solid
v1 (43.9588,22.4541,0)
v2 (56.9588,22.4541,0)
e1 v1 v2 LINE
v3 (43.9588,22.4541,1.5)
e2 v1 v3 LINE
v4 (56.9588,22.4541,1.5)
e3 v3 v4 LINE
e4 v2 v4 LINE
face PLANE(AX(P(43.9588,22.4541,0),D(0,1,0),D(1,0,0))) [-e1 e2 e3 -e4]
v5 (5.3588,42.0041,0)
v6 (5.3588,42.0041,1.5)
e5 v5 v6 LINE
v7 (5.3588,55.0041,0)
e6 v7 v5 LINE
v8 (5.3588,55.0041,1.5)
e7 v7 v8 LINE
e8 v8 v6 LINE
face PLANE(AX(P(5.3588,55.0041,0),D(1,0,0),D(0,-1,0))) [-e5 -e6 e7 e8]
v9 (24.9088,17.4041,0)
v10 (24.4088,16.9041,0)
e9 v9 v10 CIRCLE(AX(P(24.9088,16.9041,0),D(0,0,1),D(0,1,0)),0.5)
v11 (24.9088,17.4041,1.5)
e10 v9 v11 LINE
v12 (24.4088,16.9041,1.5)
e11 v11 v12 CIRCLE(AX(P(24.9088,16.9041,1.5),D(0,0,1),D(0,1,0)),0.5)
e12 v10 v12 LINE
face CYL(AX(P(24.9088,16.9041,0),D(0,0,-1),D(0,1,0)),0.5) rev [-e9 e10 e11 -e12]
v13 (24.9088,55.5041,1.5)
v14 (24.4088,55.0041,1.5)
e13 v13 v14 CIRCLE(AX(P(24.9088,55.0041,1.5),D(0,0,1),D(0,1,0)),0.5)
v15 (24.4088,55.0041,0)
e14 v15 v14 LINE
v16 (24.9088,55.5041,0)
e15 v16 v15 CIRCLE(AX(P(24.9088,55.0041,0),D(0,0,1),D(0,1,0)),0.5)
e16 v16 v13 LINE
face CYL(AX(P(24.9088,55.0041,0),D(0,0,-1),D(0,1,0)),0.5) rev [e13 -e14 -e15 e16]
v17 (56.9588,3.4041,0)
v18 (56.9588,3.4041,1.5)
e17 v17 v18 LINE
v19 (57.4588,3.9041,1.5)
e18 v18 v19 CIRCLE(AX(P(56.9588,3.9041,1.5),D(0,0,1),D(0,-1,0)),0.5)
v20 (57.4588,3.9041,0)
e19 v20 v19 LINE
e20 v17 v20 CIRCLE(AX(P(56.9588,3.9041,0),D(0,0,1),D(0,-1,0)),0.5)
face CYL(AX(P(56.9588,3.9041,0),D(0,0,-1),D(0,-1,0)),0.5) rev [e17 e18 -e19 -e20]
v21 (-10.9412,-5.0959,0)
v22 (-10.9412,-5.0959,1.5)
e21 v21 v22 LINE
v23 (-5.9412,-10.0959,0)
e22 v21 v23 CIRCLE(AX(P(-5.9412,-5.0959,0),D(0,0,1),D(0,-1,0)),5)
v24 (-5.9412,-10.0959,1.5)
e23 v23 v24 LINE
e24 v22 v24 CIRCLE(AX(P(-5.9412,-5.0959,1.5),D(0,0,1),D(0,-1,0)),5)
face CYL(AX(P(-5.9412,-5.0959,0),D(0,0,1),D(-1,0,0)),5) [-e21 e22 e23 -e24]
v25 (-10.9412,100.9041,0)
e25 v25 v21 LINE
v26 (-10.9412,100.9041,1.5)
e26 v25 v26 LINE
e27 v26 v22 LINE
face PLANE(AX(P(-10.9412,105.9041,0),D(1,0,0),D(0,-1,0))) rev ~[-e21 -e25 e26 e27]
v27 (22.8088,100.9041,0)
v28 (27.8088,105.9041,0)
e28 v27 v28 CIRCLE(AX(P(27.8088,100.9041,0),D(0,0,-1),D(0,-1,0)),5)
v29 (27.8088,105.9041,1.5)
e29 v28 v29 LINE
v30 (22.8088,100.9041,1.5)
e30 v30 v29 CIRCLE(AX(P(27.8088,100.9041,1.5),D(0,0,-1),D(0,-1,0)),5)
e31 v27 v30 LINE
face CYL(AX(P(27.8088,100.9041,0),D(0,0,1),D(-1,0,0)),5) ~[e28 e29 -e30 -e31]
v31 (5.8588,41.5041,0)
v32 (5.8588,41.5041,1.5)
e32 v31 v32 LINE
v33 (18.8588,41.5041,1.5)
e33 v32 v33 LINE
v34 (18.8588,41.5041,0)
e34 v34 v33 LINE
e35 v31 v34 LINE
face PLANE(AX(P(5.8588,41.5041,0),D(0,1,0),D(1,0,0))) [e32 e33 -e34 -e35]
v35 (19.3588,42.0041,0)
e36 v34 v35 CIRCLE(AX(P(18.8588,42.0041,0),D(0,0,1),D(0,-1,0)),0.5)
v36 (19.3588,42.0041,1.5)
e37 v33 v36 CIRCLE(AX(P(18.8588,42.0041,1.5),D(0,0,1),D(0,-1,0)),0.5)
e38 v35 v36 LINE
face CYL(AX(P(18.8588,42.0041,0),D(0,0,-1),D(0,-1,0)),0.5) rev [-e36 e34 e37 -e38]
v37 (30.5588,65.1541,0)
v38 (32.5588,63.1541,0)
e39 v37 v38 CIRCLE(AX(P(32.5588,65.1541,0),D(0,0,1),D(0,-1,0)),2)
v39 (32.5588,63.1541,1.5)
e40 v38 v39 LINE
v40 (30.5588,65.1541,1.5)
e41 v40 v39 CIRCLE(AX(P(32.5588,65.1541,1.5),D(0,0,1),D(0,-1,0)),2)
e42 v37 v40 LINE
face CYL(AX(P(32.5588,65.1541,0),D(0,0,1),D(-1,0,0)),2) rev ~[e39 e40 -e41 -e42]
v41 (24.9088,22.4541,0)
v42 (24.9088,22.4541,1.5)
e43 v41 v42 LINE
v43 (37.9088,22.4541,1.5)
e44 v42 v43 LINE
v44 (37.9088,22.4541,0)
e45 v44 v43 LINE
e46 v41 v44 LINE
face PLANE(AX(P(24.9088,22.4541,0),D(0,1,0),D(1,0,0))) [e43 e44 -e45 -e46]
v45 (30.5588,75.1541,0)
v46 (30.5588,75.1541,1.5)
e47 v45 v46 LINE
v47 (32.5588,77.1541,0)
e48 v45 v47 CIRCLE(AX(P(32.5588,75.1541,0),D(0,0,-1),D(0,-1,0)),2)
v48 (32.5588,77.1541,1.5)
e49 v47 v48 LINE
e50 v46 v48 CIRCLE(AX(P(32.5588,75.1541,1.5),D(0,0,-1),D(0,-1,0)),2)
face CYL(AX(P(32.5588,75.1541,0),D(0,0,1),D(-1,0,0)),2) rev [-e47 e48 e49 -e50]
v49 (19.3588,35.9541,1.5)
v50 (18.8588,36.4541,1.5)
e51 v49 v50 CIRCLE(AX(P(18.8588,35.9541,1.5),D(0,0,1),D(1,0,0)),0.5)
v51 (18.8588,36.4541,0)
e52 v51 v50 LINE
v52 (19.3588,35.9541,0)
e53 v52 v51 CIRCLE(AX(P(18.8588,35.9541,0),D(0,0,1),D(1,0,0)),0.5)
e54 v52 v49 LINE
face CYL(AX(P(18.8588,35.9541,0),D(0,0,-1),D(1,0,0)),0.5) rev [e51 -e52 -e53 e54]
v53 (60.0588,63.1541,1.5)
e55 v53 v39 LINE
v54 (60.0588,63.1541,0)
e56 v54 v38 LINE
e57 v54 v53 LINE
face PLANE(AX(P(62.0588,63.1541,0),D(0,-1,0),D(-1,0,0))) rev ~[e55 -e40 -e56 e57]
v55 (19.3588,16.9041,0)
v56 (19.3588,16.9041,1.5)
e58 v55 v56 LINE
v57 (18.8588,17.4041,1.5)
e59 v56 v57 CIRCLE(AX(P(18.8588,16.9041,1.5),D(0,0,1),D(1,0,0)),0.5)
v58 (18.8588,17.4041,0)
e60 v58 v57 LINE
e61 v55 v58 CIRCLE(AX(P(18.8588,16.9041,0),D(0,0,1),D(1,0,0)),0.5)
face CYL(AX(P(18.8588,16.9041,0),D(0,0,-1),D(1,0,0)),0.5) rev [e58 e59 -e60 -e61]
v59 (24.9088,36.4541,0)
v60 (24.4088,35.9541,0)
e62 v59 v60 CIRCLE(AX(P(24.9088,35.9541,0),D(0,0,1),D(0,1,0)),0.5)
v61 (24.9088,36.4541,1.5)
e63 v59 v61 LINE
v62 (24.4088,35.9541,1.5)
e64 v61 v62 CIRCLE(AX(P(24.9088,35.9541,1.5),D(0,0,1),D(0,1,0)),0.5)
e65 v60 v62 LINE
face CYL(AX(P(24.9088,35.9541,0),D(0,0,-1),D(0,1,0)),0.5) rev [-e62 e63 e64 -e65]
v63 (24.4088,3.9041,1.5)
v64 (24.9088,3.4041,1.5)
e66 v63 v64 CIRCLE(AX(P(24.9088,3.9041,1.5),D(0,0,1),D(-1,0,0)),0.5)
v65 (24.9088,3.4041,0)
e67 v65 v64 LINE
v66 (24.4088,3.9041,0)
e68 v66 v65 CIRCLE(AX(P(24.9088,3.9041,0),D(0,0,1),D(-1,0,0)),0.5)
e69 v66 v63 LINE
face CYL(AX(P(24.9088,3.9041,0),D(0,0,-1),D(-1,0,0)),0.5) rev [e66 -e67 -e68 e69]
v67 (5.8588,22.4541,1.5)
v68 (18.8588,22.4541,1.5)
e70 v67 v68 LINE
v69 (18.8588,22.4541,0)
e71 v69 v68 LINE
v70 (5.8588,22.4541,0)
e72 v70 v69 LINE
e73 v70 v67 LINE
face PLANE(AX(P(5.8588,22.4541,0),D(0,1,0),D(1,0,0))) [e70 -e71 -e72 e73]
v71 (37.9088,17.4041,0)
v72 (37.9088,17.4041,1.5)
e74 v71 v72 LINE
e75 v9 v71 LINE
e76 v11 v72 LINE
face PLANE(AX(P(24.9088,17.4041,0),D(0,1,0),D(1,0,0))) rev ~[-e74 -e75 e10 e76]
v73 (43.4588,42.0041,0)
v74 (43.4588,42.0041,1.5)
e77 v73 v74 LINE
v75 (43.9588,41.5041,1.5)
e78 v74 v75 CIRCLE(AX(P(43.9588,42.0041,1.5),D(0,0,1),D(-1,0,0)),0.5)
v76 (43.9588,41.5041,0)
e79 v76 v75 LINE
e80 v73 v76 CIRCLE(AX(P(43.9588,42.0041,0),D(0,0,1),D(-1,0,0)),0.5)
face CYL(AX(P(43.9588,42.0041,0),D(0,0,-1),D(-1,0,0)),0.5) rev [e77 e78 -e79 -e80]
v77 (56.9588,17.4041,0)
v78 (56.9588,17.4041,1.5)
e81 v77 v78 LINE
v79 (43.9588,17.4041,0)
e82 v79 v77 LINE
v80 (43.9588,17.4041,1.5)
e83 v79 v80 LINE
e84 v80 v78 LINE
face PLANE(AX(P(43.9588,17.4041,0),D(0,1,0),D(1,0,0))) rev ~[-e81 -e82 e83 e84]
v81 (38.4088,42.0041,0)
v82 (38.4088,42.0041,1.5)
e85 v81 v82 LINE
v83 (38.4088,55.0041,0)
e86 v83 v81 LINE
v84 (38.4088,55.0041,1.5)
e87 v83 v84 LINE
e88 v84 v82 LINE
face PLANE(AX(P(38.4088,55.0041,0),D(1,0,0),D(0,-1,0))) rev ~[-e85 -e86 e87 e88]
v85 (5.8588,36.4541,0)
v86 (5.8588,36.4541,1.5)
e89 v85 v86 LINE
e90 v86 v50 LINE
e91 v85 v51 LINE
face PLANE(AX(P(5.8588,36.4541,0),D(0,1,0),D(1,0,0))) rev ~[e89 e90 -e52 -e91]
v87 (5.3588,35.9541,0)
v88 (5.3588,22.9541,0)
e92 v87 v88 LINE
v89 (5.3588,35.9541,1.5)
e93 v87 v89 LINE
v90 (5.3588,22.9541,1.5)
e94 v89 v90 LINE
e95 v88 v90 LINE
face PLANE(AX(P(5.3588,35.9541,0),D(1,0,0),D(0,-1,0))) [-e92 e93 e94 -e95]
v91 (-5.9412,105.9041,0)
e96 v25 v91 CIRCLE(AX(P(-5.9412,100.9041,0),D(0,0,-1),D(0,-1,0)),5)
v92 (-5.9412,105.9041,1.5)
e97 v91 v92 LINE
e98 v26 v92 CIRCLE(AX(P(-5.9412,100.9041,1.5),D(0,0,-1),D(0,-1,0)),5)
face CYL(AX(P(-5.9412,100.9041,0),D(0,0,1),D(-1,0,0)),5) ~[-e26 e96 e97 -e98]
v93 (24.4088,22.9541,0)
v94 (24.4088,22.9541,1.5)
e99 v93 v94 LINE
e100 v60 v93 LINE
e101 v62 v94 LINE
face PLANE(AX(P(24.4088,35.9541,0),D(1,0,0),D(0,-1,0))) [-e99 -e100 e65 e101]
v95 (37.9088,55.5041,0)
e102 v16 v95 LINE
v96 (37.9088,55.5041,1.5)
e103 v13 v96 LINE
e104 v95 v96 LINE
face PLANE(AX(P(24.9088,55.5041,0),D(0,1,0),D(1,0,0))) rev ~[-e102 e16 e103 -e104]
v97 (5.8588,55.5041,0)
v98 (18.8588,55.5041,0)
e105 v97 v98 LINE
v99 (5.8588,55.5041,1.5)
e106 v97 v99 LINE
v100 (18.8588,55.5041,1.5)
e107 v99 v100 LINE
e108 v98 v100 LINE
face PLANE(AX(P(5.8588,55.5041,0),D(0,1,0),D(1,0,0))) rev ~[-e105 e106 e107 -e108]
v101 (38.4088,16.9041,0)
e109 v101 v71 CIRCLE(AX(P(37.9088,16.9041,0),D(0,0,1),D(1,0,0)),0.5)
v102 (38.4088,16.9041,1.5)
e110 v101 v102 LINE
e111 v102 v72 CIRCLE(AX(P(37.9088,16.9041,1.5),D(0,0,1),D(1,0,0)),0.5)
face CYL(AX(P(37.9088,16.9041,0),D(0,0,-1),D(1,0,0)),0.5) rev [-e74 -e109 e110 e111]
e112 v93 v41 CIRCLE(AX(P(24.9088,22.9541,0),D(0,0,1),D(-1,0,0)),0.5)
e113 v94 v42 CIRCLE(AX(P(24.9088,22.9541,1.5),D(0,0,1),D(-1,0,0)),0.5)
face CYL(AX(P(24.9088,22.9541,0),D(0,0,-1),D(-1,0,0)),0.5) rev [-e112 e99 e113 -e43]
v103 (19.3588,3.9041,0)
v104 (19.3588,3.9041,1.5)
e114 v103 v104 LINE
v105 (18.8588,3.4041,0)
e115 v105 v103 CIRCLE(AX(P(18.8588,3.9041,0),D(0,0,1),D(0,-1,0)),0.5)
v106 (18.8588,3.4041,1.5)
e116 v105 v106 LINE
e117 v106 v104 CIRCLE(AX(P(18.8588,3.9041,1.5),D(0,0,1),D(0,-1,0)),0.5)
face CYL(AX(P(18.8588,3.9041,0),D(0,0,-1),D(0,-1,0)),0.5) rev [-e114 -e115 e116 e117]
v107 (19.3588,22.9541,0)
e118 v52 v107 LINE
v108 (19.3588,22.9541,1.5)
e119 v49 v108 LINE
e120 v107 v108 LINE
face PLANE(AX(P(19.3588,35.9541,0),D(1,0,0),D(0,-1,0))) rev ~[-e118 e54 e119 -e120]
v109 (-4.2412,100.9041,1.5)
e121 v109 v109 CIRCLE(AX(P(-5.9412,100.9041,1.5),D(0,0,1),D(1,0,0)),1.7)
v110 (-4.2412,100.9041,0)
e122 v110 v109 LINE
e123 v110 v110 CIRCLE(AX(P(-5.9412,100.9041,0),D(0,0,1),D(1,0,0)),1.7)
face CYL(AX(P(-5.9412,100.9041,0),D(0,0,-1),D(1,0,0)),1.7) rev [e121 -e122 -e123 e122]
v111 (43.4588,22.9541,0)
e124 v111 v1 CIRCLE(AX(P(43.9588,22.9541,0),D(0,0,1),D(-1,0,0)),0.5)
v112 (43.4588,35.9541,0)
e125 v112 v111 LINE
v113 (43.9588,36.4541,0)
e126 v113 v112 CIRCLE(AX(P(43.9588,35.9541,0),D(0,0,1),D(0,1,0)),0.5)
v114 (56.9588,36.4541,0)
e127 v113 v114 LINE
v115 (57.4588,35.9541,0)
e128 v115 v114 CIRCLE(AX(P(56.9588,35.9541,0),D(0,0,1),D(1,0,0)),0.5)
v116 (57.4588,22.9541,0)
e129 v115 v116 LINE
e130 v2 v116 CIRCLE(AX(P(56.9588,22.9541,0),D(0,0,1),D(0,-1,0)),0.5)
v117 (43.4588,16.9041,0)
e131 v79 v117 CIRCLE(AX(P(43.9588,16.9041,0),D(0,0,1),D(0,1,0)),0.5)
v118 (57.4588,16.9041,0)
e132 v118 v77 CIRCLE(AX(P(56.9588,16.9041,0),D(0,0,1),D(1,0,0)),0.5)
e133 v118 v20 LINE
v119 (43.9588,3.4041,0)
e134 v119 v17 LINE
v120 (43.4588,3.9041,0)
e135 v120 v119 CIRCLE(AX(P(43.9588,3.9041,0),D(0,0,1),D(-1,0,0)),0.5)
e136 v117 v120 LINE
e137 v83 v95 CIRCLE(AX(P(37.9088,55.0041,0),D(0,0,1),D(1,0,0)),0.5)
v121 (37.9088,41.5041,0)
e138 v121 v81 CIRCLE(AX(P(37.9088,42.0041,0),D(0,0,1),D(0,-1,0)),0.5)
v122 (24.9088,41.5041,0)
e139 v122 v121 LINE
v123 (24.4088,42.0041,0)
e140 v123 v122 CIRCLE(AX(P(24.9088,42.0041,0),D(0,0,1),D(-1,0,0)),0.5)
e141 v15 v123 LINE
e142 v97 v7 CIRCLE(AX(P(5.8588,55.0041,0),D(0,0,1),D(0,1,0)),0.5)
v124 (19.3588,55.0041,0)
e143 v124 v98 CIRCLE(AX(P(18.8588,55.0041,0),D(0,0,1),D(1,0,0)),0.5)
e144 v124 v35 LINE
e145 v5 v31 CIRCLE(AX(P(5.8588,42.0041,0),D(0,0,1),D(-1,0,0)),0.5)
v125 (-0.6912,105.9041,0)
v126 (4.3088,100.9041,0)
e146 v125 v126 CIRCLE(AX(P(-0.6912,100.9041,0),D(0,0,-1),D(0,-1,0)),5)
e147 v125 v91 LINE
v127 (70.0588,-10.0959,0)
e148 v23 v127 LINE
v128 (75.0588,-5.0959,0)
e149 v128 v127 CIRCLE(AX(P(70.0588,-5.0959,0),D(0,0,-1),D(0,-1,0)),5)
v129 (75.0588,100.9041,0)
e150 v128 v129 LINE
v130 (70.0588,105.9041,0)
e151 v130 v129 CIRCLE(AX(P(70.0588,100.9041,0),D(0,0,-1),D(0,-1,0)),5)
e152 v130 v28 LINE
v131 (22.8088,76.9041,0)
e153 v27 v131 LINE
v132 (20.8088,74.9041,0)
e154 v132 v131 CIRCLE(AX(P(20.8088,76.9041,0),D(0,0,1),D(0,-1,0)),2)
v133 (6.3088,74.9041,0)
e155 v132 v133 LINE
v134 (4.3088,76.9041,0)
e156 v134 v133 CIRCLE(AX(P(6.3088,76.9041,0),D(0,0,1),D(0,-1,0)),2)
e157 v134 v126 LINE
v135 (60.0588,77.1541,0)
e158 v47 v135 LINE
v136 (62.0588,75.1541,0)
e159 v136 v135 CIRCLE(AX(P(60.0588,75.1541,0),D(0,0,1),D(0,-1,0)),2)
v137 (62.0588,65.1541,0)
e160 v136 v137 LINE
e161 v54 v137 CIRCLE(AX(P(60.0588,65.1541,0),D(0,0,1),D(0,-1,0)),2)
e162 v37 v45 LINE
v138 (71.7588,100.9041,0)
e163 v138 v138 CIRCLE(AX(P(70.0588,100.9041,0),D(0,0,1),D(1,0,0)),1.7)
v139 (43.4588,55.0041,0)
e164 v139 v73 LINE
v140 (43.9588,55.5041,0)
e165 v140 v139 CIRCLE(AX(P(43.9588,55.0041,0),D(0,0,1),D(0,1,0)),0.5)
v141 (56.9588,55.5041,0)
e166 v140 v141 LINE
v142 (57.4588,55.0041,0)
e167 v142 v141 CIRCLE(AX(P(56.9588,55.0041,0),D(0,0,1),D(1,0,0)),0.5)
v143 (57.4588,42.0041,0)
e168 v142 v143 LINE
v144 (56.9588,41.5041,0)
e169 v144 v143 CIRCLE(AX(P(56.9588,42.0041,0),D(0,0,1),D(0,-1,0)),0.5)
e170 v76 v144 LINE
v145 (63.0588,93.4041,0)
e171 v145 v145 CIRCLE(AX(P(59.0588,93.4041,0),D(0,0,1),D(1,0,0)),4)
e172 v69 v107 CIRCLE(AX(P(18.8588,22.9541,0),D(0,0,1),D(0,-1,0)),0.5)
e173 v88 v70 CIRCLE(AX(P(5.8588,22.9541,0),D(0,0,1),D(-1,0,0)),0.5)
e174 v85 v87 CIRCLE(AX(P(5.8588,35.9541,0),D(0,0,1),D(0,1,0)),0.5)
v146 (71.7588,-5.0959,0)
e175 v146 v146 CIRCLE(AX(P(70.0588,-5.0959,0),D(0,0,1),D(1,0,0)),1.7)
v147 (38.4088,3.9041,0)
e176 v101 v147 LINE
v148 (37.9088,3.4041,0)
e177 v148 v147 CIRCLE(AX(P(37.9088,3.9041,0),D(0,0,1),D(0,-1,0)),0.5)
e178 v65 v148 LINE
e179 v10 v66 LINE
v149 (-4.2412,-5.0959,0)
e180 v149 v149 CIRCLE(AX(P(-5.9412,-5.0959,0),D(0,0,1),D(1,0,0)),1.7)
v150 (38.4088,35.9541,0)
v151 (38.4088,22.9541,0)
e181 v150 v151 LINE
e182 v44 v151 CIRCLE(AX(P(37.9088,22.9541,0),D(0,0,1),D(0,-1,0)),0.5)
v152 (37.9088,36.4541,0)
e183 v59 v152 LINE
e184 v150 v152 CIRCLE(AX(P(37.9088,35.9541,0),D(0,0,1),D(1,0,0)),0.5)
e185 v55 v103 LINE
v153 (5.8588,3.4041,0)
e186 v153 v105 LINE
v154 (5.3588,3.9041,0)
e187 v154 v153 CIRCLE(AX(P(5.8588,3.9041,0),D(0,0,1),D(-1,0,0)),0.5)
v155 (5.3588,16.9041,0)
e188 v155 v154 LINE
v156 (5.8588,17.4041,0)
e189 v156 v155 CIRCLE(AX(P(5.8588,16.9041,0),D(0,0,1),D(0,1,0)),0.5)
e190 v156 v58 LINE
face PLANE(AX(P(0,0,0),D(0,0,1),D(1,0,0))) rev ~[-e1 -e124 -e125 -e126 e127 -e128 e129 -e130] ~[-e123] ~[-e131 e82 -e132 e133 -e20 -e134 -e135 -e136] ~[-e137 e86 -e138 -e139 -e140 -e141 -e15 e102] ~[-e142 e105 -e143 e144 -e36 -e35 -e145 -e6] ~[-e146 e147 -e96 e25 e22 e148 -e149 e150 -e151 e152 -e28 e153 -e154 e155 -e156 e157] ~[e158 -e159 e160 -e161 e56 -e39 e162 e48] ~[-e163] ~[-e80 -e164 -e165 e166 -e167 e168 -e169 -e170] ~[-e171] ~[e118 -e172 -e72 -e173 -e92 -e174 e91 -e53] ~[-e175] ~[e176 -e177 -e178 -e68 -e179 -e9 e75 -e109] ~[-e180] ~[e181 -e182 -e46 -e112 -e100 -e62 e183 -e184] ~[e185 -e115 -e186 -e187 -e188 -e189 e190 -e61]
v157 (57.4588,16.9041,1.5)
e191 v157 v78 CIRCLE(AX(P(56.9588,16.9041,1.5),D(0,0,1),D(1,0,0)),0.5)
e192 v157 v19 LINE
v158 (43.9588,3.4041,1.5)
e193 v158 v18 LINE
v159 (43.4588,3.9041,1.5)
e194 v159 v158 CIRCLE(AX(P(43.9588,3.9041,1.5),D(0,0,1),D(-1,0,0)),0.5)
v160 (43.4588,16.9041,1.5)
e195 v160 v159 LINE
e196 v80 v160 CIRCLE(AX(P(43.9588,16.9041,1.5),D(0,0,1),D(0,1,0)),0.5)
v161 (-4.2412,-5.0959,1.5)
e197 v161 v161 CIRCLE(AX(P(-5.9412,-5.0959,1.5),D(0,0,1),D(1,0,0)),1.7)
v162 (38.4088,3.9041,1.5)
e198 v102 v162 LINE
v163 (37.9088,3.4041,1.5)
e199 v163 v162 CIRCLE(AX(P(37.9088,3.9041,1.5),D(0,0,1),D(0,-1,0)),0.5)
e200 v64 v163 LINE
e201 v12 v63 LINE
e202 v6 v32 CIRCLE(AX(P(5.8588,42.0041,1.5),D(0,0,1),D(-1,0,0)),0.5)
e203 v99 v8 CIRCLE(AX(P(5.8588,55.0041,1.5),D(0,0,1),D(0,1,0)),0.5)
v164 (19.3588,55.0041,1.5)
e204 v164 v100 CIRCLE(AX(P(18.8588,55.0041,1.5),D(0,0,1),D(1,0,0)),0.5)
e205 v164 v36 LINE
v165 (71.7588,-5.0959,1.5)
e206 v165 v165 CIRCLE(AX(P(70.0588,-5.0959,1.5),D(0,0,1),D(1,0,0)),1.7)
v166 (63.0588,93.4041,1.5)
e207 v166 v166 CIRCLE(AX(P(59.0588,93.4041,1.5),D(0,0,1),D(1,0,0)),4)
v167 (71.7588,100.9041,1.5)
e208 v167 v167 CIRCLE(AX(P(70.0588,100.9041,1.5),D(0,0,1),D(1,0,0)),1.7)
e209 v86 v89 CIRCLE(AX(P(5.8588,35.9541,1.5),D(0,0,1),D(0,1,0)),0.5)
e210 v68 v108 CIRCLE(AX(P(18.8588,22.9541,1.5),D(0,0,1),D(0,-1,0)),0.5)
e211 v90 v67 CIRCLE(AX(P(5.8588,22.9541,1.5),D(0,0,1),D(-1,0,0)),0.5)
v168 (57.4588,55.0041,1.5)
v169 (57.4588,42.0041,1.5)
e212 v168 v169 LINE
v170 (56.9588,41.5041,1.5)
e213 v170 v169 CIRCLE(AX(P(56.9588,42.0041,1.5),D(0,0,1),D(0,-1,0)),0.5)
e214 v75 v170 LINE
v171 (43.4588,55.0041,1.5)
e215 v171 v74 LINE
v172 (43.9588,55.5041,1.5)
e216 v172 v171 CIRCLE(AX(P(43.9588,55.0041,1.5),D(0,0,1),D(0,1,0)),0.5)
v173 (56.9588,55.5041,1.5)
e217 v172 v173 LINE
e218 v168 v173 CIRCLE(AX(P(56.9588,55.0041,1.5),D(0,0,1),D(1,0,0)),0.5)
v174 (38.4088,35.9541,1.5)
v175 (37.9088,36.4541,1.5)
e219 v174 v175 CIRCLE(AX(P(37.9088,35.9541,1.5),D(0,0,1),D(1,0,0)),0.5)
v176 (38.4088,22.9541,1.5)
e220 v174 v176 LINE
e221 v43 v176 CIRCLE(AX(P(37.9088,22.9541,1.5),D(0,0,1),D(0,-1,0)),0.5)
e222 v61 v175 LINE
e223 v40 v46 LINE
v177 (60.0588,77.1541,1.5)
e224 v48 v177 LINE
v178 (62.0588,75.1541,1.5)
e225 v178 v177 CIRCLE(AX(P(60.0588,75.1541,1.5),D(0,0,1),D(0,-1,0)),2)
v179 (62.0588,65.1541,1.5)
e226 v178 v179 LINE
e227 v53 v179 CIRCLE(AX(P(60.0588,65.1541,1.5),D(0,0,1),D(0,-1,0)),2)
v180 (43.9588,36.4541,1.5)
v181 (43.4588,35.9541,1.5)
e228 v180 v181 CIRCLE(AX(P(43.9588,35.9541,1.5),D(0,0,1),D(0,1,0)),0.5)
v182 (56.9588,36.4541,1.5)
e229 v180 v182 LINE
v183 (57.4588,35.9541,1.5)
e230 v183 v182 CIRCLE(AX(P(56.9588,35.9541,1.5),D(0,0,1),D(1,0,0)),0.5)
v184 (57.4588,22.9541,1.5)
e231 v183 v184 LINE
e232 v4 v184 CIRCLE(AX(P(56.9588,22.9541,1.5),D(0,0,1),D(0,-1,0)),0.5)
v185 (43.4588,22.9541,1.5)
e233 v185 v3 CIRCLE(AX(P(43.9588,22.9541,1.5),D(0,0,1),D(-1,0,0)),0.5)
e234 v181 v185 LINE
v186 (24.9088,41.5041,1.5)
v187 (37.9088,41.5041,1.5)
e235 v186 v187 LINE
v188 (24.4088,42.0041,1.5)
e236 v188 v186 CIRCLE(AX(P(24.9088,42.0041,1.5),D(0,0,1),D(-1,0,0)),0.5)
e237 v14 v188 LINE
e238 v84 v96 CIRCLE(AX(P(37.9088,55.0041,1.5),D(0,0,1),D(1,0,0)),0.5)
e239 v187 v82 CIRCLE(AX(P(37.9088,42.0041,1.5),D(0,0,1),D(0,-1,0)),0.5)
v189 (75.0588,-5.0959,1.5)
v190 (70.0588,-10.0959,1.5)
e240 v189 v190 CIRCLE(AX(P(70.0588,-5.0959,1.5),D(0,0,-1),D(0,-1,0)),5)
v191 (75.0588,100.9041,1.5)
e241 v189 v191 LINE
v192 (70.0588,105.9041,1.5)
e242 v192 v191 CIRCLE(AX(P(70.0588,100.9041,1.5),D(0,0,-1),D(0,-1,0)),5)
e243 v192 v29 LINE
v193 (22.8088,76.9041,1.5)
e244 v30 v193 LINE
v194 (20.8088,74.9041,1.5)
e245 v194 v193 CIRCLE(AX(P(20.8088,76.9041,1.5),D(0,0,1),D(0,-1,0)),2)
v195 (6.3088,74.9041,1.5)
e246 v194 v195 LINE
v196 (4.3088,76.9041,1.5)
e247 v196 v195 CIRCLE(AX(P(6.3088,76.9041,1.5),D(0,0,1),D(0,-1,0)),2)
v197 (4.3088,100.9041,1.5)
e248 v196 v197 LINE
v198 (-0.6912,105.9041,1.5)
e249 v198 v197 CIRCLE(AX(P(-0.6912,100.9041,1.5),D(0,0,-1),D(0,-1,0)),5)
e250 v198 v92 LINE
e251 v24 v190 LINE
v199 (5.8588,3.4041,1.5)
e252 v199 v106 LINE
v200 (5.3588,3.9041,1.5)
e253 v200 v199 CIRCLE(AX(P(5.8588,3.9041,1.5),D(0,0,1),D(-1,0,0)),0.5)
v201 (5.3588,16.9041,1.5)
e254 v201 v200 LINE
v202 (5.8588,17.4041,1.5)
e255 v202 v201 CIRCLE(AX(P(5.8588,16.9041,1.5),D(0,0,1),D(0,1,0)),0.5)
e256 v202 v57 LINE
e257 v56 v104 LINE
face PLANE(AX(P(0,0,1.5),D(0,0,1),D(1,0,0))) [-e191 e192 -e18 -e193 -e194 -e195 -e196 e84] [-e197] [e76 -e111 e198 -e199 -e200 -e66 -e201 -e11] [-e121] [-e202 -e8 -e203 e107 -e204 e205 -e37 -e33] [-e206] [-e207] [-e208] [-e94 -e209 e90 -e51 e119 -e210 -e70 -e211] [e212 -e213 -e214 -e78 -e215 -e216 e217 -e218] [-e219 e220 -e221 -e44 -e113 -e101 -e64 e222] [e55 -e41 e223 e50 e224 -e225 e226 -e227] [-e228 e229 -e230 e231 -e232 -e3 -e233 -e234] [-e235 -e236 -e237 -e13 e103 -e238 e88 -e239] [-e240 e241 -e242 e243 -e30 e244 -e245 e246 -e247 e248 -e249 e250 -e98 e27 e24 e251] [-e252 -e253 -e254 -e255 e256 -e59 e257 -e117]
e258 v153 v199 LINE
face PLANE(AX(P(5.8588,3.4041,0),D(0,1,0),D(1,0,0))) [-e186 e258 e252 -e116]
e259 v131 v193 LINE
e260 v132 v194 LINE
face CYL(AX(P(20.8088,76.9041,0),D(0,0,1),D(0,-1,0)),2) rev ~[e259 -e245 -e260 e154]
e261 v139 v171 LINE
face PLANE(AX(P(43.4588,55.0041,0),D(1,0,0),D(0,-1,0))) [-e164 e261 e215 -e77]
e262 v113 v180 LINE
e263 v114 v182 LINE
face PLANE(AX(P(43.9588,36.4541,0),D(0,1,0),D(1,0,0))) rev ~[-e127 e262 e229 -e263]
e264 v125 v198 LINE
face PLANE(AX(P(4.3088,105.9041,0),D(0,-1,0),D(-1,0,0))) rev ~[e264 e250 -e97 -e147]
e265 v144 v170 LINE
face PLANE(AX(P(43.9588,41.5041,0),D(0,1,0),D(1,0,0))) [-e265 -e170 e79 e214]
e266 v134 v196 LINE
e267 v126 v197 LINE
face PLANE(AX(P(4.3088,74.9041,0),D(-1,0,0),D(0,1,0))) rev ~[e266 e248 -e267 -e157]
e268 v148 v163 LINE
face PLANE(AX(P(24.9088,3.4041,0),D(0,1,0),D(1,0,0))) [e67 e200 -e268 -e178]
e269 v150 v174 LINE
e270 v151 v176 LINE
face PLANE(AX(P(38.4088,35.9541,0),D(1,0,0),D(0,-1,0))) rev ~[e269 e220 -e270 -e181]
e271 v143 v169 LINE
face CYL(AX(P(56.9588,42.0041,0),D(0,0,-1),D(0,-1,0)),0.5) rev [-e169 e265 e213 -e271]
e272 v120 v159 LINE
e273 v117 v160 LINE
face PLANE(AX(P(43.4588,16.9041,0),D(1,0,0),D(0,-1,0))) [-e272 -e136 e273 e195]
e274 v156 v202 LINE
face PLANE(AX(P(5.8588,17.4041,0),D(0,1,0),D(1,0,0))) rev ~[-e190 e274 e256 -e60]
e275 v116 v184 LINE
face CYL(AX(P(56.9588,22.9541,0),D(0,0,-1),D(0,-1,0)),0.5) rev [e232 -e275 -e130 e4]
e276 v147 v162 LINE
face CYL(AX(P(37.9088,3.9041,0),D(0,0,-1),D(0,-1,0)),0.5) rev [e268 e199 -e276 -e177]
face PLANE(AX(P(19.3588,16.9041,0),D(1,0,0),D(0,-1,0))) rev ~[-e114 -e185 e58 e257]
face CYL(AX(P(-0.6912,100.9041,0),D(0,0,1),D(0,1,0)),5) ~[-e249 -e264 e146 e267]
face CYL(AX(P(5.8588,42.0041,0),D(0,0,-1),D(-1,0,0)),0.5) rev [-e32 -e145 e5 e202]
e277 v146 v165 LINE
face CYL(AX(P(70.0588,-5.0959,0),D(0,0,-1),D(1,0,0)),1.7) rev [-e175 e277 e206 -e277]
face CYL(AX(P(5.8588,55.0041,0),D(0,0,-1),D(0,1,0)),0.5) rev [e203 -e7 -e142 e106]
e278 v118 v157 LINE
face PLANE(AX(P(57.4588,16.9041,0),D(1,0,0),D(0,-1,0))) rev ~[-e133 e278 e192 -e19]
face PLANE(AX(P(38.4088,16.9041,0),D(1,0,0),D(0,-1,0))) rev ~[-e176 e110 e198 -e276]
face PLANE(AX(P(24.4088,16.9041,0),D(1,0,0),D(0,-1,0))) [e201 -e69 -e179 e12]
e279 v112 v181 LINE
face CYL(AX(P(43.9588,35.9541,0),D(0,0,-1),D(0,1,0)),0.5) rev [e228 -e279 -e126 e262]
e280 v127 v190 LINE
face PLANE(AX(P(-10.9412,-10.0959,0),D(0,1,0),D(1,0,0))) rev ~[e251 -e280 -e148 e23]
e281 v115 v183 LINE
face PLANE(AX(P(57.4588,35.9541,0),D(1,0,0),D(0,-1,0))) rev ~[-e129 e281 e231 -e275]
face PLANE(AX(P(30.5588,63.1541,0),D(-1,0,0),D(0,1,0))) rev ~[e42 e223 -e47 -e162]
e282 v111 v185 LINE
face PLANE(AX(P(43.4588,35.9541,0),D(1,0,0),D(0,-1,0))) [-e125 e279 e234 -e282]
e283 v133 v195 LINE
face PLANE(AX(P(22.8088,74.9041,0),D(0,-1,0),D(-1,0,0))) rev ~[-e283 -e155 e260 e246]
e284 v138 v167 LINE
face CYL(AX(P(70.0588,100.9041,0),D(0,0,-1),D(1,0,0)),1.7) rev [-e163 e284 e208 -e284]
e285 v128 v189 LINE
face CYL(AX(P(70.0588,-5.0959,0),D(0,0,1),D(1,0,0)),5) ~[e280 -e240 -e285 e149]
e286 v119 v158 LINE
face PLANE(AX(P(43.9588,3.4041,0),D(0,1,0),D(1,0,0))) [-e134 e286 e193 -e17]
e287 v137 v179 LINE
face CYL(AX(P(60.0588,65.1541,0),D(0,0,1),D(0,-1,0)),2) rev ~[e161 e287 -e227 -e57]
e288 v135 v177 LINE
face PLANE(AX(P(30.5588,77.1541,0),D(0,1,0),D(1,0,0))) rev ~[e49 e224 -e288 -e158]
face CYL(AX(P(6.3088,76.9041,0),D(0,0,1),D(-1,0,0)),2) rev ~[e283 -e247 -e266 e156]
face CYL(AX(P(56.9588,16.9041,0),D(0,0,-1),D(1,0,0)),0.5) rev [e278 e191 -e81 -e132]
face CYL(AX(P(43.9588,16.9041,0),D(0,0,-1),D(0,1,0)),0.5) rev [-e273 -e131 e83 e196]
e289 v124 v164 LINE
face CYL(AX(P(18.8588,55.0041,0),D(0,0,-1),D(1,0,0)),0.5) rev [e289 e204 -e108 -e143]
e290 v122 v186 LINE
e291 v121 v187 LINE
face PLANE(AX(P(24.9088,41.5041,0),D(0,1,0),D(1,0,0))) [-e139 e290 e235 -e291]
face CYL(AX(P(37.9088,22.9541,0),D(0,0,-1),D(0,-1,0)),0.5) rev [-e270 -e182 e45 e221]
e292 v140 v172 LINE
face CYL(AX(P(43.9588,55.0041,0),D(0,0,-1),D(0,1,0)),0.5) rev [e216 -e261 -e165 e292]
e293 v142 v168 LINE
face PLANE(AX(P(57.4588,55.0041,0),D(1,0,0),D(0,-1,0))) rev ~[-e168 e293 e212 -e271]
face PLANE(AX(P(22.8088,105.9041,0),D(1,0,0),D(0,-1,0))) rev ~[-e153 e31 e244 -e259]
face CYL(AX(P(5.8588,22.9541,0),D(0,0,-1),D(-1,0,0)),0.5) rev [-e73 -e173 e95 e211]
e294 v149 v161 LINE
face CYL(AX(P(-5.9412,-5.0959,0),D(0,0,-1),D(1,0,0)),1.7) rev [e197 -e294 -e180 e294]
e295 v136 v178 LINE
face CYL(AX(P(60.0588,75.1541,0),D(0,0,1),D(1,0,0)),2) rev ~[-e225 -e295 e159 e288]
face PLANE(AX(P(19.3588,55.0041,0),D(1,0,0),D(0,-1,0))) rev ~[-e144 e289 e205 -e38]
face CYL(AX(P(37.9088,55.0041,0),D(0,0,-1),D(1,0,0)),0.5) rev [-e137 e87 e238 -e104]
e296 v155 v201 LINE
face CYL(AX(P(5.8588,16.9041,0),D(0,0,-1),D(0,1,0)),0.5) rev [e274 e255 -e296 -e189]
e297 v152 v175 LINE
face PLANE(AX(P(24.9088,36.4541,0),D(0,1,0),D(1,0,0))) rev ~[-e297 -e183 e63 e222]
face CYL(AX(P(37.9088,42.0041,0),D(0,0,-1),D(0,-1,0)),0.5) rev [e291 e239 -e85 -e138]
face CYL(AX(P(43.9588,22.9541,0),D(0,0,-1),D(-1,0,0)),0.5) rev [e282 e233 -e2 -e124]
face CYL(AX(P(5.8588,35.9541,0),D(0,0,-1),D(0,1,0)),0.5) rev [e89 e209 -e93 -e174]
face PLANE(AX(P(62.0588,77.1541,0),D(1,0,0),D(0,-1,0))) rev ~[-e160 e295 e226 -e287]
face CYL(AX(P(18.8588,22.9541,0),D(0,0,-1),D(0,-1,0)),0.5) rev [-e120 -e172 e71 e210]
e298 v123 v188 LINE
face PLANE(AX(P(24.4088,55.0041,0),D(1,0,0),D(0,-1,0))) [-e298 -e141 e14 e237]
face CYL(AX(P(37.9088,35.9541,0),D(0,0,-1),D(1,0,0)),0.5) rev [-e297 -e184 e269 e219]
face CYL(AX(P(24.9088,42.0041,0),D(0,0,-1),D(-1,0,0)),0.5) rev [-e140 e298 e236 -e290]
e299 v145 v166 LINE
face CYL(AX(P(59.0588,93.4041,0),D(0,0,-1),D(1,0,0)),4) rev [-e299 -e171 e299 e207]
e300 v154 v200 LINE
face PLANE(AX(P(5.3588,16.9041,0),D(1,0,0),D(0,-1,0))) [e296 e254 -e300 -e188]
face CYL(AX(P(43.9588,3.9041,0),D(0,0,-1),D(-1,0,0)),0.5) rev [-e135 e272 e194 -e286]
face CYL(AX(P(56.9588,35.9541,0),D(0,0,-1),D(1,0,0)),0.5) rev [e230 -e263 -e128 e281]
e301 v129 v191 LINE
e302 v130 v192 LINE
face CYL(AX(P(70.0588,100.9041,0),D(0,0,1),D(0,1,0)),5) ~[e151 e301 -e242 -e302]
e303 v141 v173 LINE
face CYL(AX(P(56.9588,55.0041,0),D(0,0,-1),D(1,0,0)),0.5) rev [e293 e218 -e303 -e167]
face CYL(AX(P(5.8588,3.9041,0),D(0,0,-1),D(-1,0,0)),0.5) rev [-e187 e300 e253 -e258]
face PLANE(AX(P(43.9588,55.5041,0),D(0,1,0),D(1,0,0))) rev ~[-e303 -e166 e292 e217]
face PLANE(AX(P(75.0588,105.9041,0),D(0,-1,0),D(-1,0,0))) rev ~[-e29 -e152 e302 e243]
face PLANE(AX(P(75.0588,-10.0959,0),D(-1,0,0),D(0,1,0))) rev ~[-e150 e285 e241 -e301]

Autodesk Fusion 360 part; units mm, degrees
sketch "ModuPad_Upper-Plate-2025-12-28T20_50_54.815Z" plane through (0, 0, 0) normal (0, 0, 1) x (1, 0, 0)
  line L0 (5.8588, 55.5041) -> (18.8588, 55.5041)
  line L1 (5.8588, 41.5041) -> (18.8588, 41.5041)
  line L2 (5.3588, 55.0041) -> (5.3588, 42.0041)
  line L3 (19.3588, 55.0041) -> (19.3588, 42.0041)
  arc A0 (5.8588, 55.5041) -> (5.3588, 55.0041) centre (5.8588, 55.0041) ccw
  arc A1 (19.3588, 55.0041) -> (18.8588, 55.5041) centre (18.8588, 55.0041) ccw
  arc A2 (5.3588, 42.0041) -> (5.8588, 41.5041) centre (5.8588, 42.0041) ccw
  arc A3 (18.8588, 41.5041) -> (19.3588, 42.0041) centre (18.8588, 42.0041) ccw
  line L4 (24.9088, 55.5041) -> (37.9088, 55.5041)
  line L5 (24.9088, 41.5041) -> (37.9088, 41.5041)
  line L6 (24.4088, 55.0041) -> (24.4088, 42.0041)
  line L7 (38.4088, 55.0041) -> (38.4088, 42.0041)
  arc A4 (24.9088, 55.5041) -> (24.4088, 55.0041) centre (24.9088, 55.0041) ccw
  arc A5 (38.4088, 55.0041) -> (37.9088, 55.5041) centre (37.9088, 55.0041) ccw
  arc A6 (24.4088, 42.0041) -> (24.9088, 41.5041) centre (24.9088, 42.0041) ccw
  arc A7 (37.9088, 41.5041) -> (38.4088, 42.0041) centre (37.9088, 42.0041) ccw
  line L8 (43.9588, 55.5041) -> (56.9588, 55.5041)
  line L9 (43.9588, 41.5041) -> (56.9588, 41.5041)
  line L10 (43.4588, 55.0041) -> (43.4588, 42.0041)
  line L11 (57.4588, 55.0041) -> (57.4588, 42.0041)
  arc A8 (43.9588, 55.5041) -> (43.4588, 55.0041) centre (43.9588, 55.0041) ccw
  arc A9 (57.4588, 55.0041) -> (56.9588, 55.5041) centre (56.9588, 55.0041) ccw
  arc A10 (43.4588, 42.0041) -> (43.9588, 41.5041) centre (43.9588, 42.0041) ccw
  arc A11 (56.9588, 41.5041) -> (57.4588, 42.0041) centre (56.9588, 42.0041) ccw
  line L12 (5.8588, 36.4541) -> (18.8588, 36.4541)
  line L13 (5.8588, 22.4541) -> (18.8588, 22.4541)
  line L14 (5.3588, 35.9541) -> (5.3588, 22.9541)
  line L15 (19.3588, 35.9541) -> (19.3588, 22.9541)
  arc A12 (5.8588, 36.4541) -> (5.3588, 35.9541) centre (5.8588, 35.9541) ccw
  arc A13 (19.3588, 35.9541) -> (18.8588, 36.4541) centre (18.8588, 35.9541) ccw
  arc A14 (5.3588, 22.9541) -> (5.8588, 22.4541) centre (5.8588, 22.9541) ccw
  arc A15 (18.8588, 22.4541) -> (19.3588, 22.9541) centre (18.8588, 22.9541) ccw
  line L16 (24.9088, 36.4541) -> (37.9088, 36.4541)
  line L17 (24.9088, 22.4541) -> (37.9088, 22.4541)
  line L18 (24.4088, 35.9541) -> (24.4088, 22.9541)
  line L19 (38.4088, 35.9541) -> (38.4088, 22.9541)
  arc A16 (24.9088, 36.4541) -> (24.4088, 35.9541) centre (24.9088, 35.9541) ccw
  arc A17 (38.4088, 35.9541) -> (37.9088, 36.4541) centre (37.9088, 35.9541) ccw
  arc A18 (24.4088, 22.9541) -> (24.9088, 22.4541) centre (24.9088, 22.9541) ccw
  arc A19 (37.9088, 22.4541) -> (38.4088, 22.9541) centre (37.9088, 22.9541) ccw
  line L20 (43.9588, 36.4541) -> (56.9588, 36.4541)
  line L21 (43.9588, 22.4541) -> (56.9588, 22.4541)
  line L22 (43.4588, 35.9541) -> (43.4588, 22.9541)
  line L23 (57.4588, 35.9541) -> (57.4588, 22.9541)
  arc A20 (43.9588, 36.4541) -> (43.4588, 35.9541) centre (43.9588, 35.9541) ccw
  arc A21 (57.4588, 35.9541) -> (56.9588, 36.4541) centre (56.9588, 35.9541) ccw
  arc A22 (43.4588, 22.9541) -> (43.9588, 22.4541) centre (43.9588, 22.9541) ccw
  arc A23 (56.9588, 22.4541) -> (57.4588, 22.9541) centre (56.9588, 22.9541) ccw
  line L24 (5.8588, 17.4041) -> (18.8588, 17.4041)
  line L25 (5.8588, 3.4041) -> (18.8588, 3.4041)
  line L26 (5.3588, 16.9041) -> (5.3588, 3.9041)
  line L27 (19.3588, 16.9041) -> (19.3588, 3.9041)
  arc A24 (5.8588, 17.4041) -> (5.3588, 16.9041) centre (5.8588, 16.9041) ccw
  arc A25 (19.3588, 16.9041) -> (18.8588, 17.4041) centre (18.8588, 16.9041) ccw
  arc A26 (5.3588, 3.9041) -> (5.8588, 3.4041) centre (5.8588, 3.9041) ccw
  arc A27 (18.8588, 3.4041) -> (19.3588, 3.9041) centre (18.8588, 3.9041) ccw
  line L28 (24.9088, 17.4041) -> (37.9088, 17.4041)
  line L29 (24.9088, 3.4041) -> (37.9088, 3.4041)
  line L30 (24.4088, 16.9041) -> (24.4088, 3.9041)
  line L31 (38.4088, 16.9041) -> (38.4088, 3.9041)
  arc A28 (24.9088, 17.4041) -> (24.4088, 16.9041) centre (24.9088, 16.9041) ccw
  arc A29 (38.4088, 16.9041) -> (37.9088, 17.4041) centre (37.9088, 16.9041) ccw
  arc A30 (24.4088, 3.9041) -> (24.9088, 3.4041) centre (24.9088, 3.9041) ccw
  arc A31 (37.9088, 3.4041) -> (38.4088, 3.9041) centre (37.9088, 3.9041) ccw
  line L32 (43.9588, 17.4041) -> (56.9588, 17.4041)
  line L33 (43.9588, 3.4041) -> (56.9588, 3.4041)
  line L34 (43.4588, 16.9041) -> (43.4588, 3.9041)
  line L35 (57.4588, 16.9041) -> (57.4588, 3.9041)
  arc A32 (43.9588, 17.4041) -> (43.4588, 16.9041) centre (43.9588, 16.9041) ccw
  arc A33 (57.4588, 16.9041) -> (56.9588, 17.4041) centre (56.9588, 16.9041) ccw
  arc A34 (43.4588, 3.9041) -> (43.9588, 3.4041) centre (43.9588, 3.9041) ccw
  arc A35 (56.9588, 3.4041) -> (57.4588, 3.9041) centre (56.9588, 3.9041) ccw
  line L36 (-10.9412, -10.0959) -> (75.0588, -10.0959)
  line L37 (75.0588, -10.0959) -> (75.0588, 105.9041)
  line L38 (75.0588, 105.9041) -> (-10.9412, 105.9041)
  line L39 (-10.9412, 105.9041) -> (-10.9412, -10.0959)
  line L40 (4.3088, 105.9041) -> (22.8088, 105.9041)
  line L41 (22.8088, 105.9041) -> (22.8088, 74.9041)
  line L42 (22.8088, 74.9041) -> (4.3088, 74.9041)
  line L43 (4.3088, 74.9041) -> (4.3088, 105.9041)
  circle A36 centre (-5.9412, 100.9041) radius 1.7
  circle A37 centre (70.0588, 100.9041) radius 1.7
  circle A38 centre (70.0588, -5.0959) radius 1.7
  circle A39 centre (-5.9412, -5.0959) radius 1.7
  line L44 (30.5588, 77.1541) -> (62.0588, 77.1541)
  line L45 (62.0588, 77.1541) -> (62.0588, 63.1541)
  line L46 (62.0588, 63.1541) -> (30.5588, 63.1541)
  line L47 (30.5588, 63.1541) -> (30.5588, 77.1541)
  circle A40 centre (59.0588, 93.4041) radius 4
  dimension "d1" = 86
  dimension "d2" = 116
  dimension "d3" = 16.3
  dimension "d4" = 13.5
  dimension "d5" = 18.5
  dimension "d6" = 31
  dimension "d7" = 15.25
  dimension "d8" = 3.4
  dimension "d9" = 5
  dimension "d10" = 5
  dimension "d11" = 3.4
  dimension "d12" = 5
  dimension "d13" = 5
  dimension "d14" = 3.4
  dimension "d15" = 5
  dimension "d16" = 5
  dimension "d17" = 3.4
  dimension "d18" = 5
  dimension "d19" = 5
  dimension "d20" = 31.5
  dimension "d21" = 14
  dimension "d22" = 13
  dimension "d23" = 28.75
  dimension "d24" = 8
  dimension "d25" = 12.5
  dimension "d26" = 16
extrude "Extrude1" add sketch "ModuPad_Upper-Plate-2025-12-28T20_50_54.815Z" along normal blind 1.5 contours L36 L37 L38 L39 L41 L42 L43
fillet "Fillet1" radius 5 6 edges at (75.0588, 105.9041, 0.75) (-10.9412, -10.0959, 0.75) (75.0588, -10.0959, 0.75) (-10.9412, 105.9041, 0.75) (4.3088, 105.9041, 0.75) (22.8088, 105.9041, 0.75)
fillet "Fillet2" radius 2 4 edges at (30.5588, 63.1541, 0.75) (62.0588, 63.1541, 0.75) (30.5588, 77.1541, 0.75) (62.0588, 77.1541, 0.75)
fillet "Fillet3" radius 2 2 edges at (22.8088, 74.9041, 0.75) (4.3088, 74.9041, 0.75)
